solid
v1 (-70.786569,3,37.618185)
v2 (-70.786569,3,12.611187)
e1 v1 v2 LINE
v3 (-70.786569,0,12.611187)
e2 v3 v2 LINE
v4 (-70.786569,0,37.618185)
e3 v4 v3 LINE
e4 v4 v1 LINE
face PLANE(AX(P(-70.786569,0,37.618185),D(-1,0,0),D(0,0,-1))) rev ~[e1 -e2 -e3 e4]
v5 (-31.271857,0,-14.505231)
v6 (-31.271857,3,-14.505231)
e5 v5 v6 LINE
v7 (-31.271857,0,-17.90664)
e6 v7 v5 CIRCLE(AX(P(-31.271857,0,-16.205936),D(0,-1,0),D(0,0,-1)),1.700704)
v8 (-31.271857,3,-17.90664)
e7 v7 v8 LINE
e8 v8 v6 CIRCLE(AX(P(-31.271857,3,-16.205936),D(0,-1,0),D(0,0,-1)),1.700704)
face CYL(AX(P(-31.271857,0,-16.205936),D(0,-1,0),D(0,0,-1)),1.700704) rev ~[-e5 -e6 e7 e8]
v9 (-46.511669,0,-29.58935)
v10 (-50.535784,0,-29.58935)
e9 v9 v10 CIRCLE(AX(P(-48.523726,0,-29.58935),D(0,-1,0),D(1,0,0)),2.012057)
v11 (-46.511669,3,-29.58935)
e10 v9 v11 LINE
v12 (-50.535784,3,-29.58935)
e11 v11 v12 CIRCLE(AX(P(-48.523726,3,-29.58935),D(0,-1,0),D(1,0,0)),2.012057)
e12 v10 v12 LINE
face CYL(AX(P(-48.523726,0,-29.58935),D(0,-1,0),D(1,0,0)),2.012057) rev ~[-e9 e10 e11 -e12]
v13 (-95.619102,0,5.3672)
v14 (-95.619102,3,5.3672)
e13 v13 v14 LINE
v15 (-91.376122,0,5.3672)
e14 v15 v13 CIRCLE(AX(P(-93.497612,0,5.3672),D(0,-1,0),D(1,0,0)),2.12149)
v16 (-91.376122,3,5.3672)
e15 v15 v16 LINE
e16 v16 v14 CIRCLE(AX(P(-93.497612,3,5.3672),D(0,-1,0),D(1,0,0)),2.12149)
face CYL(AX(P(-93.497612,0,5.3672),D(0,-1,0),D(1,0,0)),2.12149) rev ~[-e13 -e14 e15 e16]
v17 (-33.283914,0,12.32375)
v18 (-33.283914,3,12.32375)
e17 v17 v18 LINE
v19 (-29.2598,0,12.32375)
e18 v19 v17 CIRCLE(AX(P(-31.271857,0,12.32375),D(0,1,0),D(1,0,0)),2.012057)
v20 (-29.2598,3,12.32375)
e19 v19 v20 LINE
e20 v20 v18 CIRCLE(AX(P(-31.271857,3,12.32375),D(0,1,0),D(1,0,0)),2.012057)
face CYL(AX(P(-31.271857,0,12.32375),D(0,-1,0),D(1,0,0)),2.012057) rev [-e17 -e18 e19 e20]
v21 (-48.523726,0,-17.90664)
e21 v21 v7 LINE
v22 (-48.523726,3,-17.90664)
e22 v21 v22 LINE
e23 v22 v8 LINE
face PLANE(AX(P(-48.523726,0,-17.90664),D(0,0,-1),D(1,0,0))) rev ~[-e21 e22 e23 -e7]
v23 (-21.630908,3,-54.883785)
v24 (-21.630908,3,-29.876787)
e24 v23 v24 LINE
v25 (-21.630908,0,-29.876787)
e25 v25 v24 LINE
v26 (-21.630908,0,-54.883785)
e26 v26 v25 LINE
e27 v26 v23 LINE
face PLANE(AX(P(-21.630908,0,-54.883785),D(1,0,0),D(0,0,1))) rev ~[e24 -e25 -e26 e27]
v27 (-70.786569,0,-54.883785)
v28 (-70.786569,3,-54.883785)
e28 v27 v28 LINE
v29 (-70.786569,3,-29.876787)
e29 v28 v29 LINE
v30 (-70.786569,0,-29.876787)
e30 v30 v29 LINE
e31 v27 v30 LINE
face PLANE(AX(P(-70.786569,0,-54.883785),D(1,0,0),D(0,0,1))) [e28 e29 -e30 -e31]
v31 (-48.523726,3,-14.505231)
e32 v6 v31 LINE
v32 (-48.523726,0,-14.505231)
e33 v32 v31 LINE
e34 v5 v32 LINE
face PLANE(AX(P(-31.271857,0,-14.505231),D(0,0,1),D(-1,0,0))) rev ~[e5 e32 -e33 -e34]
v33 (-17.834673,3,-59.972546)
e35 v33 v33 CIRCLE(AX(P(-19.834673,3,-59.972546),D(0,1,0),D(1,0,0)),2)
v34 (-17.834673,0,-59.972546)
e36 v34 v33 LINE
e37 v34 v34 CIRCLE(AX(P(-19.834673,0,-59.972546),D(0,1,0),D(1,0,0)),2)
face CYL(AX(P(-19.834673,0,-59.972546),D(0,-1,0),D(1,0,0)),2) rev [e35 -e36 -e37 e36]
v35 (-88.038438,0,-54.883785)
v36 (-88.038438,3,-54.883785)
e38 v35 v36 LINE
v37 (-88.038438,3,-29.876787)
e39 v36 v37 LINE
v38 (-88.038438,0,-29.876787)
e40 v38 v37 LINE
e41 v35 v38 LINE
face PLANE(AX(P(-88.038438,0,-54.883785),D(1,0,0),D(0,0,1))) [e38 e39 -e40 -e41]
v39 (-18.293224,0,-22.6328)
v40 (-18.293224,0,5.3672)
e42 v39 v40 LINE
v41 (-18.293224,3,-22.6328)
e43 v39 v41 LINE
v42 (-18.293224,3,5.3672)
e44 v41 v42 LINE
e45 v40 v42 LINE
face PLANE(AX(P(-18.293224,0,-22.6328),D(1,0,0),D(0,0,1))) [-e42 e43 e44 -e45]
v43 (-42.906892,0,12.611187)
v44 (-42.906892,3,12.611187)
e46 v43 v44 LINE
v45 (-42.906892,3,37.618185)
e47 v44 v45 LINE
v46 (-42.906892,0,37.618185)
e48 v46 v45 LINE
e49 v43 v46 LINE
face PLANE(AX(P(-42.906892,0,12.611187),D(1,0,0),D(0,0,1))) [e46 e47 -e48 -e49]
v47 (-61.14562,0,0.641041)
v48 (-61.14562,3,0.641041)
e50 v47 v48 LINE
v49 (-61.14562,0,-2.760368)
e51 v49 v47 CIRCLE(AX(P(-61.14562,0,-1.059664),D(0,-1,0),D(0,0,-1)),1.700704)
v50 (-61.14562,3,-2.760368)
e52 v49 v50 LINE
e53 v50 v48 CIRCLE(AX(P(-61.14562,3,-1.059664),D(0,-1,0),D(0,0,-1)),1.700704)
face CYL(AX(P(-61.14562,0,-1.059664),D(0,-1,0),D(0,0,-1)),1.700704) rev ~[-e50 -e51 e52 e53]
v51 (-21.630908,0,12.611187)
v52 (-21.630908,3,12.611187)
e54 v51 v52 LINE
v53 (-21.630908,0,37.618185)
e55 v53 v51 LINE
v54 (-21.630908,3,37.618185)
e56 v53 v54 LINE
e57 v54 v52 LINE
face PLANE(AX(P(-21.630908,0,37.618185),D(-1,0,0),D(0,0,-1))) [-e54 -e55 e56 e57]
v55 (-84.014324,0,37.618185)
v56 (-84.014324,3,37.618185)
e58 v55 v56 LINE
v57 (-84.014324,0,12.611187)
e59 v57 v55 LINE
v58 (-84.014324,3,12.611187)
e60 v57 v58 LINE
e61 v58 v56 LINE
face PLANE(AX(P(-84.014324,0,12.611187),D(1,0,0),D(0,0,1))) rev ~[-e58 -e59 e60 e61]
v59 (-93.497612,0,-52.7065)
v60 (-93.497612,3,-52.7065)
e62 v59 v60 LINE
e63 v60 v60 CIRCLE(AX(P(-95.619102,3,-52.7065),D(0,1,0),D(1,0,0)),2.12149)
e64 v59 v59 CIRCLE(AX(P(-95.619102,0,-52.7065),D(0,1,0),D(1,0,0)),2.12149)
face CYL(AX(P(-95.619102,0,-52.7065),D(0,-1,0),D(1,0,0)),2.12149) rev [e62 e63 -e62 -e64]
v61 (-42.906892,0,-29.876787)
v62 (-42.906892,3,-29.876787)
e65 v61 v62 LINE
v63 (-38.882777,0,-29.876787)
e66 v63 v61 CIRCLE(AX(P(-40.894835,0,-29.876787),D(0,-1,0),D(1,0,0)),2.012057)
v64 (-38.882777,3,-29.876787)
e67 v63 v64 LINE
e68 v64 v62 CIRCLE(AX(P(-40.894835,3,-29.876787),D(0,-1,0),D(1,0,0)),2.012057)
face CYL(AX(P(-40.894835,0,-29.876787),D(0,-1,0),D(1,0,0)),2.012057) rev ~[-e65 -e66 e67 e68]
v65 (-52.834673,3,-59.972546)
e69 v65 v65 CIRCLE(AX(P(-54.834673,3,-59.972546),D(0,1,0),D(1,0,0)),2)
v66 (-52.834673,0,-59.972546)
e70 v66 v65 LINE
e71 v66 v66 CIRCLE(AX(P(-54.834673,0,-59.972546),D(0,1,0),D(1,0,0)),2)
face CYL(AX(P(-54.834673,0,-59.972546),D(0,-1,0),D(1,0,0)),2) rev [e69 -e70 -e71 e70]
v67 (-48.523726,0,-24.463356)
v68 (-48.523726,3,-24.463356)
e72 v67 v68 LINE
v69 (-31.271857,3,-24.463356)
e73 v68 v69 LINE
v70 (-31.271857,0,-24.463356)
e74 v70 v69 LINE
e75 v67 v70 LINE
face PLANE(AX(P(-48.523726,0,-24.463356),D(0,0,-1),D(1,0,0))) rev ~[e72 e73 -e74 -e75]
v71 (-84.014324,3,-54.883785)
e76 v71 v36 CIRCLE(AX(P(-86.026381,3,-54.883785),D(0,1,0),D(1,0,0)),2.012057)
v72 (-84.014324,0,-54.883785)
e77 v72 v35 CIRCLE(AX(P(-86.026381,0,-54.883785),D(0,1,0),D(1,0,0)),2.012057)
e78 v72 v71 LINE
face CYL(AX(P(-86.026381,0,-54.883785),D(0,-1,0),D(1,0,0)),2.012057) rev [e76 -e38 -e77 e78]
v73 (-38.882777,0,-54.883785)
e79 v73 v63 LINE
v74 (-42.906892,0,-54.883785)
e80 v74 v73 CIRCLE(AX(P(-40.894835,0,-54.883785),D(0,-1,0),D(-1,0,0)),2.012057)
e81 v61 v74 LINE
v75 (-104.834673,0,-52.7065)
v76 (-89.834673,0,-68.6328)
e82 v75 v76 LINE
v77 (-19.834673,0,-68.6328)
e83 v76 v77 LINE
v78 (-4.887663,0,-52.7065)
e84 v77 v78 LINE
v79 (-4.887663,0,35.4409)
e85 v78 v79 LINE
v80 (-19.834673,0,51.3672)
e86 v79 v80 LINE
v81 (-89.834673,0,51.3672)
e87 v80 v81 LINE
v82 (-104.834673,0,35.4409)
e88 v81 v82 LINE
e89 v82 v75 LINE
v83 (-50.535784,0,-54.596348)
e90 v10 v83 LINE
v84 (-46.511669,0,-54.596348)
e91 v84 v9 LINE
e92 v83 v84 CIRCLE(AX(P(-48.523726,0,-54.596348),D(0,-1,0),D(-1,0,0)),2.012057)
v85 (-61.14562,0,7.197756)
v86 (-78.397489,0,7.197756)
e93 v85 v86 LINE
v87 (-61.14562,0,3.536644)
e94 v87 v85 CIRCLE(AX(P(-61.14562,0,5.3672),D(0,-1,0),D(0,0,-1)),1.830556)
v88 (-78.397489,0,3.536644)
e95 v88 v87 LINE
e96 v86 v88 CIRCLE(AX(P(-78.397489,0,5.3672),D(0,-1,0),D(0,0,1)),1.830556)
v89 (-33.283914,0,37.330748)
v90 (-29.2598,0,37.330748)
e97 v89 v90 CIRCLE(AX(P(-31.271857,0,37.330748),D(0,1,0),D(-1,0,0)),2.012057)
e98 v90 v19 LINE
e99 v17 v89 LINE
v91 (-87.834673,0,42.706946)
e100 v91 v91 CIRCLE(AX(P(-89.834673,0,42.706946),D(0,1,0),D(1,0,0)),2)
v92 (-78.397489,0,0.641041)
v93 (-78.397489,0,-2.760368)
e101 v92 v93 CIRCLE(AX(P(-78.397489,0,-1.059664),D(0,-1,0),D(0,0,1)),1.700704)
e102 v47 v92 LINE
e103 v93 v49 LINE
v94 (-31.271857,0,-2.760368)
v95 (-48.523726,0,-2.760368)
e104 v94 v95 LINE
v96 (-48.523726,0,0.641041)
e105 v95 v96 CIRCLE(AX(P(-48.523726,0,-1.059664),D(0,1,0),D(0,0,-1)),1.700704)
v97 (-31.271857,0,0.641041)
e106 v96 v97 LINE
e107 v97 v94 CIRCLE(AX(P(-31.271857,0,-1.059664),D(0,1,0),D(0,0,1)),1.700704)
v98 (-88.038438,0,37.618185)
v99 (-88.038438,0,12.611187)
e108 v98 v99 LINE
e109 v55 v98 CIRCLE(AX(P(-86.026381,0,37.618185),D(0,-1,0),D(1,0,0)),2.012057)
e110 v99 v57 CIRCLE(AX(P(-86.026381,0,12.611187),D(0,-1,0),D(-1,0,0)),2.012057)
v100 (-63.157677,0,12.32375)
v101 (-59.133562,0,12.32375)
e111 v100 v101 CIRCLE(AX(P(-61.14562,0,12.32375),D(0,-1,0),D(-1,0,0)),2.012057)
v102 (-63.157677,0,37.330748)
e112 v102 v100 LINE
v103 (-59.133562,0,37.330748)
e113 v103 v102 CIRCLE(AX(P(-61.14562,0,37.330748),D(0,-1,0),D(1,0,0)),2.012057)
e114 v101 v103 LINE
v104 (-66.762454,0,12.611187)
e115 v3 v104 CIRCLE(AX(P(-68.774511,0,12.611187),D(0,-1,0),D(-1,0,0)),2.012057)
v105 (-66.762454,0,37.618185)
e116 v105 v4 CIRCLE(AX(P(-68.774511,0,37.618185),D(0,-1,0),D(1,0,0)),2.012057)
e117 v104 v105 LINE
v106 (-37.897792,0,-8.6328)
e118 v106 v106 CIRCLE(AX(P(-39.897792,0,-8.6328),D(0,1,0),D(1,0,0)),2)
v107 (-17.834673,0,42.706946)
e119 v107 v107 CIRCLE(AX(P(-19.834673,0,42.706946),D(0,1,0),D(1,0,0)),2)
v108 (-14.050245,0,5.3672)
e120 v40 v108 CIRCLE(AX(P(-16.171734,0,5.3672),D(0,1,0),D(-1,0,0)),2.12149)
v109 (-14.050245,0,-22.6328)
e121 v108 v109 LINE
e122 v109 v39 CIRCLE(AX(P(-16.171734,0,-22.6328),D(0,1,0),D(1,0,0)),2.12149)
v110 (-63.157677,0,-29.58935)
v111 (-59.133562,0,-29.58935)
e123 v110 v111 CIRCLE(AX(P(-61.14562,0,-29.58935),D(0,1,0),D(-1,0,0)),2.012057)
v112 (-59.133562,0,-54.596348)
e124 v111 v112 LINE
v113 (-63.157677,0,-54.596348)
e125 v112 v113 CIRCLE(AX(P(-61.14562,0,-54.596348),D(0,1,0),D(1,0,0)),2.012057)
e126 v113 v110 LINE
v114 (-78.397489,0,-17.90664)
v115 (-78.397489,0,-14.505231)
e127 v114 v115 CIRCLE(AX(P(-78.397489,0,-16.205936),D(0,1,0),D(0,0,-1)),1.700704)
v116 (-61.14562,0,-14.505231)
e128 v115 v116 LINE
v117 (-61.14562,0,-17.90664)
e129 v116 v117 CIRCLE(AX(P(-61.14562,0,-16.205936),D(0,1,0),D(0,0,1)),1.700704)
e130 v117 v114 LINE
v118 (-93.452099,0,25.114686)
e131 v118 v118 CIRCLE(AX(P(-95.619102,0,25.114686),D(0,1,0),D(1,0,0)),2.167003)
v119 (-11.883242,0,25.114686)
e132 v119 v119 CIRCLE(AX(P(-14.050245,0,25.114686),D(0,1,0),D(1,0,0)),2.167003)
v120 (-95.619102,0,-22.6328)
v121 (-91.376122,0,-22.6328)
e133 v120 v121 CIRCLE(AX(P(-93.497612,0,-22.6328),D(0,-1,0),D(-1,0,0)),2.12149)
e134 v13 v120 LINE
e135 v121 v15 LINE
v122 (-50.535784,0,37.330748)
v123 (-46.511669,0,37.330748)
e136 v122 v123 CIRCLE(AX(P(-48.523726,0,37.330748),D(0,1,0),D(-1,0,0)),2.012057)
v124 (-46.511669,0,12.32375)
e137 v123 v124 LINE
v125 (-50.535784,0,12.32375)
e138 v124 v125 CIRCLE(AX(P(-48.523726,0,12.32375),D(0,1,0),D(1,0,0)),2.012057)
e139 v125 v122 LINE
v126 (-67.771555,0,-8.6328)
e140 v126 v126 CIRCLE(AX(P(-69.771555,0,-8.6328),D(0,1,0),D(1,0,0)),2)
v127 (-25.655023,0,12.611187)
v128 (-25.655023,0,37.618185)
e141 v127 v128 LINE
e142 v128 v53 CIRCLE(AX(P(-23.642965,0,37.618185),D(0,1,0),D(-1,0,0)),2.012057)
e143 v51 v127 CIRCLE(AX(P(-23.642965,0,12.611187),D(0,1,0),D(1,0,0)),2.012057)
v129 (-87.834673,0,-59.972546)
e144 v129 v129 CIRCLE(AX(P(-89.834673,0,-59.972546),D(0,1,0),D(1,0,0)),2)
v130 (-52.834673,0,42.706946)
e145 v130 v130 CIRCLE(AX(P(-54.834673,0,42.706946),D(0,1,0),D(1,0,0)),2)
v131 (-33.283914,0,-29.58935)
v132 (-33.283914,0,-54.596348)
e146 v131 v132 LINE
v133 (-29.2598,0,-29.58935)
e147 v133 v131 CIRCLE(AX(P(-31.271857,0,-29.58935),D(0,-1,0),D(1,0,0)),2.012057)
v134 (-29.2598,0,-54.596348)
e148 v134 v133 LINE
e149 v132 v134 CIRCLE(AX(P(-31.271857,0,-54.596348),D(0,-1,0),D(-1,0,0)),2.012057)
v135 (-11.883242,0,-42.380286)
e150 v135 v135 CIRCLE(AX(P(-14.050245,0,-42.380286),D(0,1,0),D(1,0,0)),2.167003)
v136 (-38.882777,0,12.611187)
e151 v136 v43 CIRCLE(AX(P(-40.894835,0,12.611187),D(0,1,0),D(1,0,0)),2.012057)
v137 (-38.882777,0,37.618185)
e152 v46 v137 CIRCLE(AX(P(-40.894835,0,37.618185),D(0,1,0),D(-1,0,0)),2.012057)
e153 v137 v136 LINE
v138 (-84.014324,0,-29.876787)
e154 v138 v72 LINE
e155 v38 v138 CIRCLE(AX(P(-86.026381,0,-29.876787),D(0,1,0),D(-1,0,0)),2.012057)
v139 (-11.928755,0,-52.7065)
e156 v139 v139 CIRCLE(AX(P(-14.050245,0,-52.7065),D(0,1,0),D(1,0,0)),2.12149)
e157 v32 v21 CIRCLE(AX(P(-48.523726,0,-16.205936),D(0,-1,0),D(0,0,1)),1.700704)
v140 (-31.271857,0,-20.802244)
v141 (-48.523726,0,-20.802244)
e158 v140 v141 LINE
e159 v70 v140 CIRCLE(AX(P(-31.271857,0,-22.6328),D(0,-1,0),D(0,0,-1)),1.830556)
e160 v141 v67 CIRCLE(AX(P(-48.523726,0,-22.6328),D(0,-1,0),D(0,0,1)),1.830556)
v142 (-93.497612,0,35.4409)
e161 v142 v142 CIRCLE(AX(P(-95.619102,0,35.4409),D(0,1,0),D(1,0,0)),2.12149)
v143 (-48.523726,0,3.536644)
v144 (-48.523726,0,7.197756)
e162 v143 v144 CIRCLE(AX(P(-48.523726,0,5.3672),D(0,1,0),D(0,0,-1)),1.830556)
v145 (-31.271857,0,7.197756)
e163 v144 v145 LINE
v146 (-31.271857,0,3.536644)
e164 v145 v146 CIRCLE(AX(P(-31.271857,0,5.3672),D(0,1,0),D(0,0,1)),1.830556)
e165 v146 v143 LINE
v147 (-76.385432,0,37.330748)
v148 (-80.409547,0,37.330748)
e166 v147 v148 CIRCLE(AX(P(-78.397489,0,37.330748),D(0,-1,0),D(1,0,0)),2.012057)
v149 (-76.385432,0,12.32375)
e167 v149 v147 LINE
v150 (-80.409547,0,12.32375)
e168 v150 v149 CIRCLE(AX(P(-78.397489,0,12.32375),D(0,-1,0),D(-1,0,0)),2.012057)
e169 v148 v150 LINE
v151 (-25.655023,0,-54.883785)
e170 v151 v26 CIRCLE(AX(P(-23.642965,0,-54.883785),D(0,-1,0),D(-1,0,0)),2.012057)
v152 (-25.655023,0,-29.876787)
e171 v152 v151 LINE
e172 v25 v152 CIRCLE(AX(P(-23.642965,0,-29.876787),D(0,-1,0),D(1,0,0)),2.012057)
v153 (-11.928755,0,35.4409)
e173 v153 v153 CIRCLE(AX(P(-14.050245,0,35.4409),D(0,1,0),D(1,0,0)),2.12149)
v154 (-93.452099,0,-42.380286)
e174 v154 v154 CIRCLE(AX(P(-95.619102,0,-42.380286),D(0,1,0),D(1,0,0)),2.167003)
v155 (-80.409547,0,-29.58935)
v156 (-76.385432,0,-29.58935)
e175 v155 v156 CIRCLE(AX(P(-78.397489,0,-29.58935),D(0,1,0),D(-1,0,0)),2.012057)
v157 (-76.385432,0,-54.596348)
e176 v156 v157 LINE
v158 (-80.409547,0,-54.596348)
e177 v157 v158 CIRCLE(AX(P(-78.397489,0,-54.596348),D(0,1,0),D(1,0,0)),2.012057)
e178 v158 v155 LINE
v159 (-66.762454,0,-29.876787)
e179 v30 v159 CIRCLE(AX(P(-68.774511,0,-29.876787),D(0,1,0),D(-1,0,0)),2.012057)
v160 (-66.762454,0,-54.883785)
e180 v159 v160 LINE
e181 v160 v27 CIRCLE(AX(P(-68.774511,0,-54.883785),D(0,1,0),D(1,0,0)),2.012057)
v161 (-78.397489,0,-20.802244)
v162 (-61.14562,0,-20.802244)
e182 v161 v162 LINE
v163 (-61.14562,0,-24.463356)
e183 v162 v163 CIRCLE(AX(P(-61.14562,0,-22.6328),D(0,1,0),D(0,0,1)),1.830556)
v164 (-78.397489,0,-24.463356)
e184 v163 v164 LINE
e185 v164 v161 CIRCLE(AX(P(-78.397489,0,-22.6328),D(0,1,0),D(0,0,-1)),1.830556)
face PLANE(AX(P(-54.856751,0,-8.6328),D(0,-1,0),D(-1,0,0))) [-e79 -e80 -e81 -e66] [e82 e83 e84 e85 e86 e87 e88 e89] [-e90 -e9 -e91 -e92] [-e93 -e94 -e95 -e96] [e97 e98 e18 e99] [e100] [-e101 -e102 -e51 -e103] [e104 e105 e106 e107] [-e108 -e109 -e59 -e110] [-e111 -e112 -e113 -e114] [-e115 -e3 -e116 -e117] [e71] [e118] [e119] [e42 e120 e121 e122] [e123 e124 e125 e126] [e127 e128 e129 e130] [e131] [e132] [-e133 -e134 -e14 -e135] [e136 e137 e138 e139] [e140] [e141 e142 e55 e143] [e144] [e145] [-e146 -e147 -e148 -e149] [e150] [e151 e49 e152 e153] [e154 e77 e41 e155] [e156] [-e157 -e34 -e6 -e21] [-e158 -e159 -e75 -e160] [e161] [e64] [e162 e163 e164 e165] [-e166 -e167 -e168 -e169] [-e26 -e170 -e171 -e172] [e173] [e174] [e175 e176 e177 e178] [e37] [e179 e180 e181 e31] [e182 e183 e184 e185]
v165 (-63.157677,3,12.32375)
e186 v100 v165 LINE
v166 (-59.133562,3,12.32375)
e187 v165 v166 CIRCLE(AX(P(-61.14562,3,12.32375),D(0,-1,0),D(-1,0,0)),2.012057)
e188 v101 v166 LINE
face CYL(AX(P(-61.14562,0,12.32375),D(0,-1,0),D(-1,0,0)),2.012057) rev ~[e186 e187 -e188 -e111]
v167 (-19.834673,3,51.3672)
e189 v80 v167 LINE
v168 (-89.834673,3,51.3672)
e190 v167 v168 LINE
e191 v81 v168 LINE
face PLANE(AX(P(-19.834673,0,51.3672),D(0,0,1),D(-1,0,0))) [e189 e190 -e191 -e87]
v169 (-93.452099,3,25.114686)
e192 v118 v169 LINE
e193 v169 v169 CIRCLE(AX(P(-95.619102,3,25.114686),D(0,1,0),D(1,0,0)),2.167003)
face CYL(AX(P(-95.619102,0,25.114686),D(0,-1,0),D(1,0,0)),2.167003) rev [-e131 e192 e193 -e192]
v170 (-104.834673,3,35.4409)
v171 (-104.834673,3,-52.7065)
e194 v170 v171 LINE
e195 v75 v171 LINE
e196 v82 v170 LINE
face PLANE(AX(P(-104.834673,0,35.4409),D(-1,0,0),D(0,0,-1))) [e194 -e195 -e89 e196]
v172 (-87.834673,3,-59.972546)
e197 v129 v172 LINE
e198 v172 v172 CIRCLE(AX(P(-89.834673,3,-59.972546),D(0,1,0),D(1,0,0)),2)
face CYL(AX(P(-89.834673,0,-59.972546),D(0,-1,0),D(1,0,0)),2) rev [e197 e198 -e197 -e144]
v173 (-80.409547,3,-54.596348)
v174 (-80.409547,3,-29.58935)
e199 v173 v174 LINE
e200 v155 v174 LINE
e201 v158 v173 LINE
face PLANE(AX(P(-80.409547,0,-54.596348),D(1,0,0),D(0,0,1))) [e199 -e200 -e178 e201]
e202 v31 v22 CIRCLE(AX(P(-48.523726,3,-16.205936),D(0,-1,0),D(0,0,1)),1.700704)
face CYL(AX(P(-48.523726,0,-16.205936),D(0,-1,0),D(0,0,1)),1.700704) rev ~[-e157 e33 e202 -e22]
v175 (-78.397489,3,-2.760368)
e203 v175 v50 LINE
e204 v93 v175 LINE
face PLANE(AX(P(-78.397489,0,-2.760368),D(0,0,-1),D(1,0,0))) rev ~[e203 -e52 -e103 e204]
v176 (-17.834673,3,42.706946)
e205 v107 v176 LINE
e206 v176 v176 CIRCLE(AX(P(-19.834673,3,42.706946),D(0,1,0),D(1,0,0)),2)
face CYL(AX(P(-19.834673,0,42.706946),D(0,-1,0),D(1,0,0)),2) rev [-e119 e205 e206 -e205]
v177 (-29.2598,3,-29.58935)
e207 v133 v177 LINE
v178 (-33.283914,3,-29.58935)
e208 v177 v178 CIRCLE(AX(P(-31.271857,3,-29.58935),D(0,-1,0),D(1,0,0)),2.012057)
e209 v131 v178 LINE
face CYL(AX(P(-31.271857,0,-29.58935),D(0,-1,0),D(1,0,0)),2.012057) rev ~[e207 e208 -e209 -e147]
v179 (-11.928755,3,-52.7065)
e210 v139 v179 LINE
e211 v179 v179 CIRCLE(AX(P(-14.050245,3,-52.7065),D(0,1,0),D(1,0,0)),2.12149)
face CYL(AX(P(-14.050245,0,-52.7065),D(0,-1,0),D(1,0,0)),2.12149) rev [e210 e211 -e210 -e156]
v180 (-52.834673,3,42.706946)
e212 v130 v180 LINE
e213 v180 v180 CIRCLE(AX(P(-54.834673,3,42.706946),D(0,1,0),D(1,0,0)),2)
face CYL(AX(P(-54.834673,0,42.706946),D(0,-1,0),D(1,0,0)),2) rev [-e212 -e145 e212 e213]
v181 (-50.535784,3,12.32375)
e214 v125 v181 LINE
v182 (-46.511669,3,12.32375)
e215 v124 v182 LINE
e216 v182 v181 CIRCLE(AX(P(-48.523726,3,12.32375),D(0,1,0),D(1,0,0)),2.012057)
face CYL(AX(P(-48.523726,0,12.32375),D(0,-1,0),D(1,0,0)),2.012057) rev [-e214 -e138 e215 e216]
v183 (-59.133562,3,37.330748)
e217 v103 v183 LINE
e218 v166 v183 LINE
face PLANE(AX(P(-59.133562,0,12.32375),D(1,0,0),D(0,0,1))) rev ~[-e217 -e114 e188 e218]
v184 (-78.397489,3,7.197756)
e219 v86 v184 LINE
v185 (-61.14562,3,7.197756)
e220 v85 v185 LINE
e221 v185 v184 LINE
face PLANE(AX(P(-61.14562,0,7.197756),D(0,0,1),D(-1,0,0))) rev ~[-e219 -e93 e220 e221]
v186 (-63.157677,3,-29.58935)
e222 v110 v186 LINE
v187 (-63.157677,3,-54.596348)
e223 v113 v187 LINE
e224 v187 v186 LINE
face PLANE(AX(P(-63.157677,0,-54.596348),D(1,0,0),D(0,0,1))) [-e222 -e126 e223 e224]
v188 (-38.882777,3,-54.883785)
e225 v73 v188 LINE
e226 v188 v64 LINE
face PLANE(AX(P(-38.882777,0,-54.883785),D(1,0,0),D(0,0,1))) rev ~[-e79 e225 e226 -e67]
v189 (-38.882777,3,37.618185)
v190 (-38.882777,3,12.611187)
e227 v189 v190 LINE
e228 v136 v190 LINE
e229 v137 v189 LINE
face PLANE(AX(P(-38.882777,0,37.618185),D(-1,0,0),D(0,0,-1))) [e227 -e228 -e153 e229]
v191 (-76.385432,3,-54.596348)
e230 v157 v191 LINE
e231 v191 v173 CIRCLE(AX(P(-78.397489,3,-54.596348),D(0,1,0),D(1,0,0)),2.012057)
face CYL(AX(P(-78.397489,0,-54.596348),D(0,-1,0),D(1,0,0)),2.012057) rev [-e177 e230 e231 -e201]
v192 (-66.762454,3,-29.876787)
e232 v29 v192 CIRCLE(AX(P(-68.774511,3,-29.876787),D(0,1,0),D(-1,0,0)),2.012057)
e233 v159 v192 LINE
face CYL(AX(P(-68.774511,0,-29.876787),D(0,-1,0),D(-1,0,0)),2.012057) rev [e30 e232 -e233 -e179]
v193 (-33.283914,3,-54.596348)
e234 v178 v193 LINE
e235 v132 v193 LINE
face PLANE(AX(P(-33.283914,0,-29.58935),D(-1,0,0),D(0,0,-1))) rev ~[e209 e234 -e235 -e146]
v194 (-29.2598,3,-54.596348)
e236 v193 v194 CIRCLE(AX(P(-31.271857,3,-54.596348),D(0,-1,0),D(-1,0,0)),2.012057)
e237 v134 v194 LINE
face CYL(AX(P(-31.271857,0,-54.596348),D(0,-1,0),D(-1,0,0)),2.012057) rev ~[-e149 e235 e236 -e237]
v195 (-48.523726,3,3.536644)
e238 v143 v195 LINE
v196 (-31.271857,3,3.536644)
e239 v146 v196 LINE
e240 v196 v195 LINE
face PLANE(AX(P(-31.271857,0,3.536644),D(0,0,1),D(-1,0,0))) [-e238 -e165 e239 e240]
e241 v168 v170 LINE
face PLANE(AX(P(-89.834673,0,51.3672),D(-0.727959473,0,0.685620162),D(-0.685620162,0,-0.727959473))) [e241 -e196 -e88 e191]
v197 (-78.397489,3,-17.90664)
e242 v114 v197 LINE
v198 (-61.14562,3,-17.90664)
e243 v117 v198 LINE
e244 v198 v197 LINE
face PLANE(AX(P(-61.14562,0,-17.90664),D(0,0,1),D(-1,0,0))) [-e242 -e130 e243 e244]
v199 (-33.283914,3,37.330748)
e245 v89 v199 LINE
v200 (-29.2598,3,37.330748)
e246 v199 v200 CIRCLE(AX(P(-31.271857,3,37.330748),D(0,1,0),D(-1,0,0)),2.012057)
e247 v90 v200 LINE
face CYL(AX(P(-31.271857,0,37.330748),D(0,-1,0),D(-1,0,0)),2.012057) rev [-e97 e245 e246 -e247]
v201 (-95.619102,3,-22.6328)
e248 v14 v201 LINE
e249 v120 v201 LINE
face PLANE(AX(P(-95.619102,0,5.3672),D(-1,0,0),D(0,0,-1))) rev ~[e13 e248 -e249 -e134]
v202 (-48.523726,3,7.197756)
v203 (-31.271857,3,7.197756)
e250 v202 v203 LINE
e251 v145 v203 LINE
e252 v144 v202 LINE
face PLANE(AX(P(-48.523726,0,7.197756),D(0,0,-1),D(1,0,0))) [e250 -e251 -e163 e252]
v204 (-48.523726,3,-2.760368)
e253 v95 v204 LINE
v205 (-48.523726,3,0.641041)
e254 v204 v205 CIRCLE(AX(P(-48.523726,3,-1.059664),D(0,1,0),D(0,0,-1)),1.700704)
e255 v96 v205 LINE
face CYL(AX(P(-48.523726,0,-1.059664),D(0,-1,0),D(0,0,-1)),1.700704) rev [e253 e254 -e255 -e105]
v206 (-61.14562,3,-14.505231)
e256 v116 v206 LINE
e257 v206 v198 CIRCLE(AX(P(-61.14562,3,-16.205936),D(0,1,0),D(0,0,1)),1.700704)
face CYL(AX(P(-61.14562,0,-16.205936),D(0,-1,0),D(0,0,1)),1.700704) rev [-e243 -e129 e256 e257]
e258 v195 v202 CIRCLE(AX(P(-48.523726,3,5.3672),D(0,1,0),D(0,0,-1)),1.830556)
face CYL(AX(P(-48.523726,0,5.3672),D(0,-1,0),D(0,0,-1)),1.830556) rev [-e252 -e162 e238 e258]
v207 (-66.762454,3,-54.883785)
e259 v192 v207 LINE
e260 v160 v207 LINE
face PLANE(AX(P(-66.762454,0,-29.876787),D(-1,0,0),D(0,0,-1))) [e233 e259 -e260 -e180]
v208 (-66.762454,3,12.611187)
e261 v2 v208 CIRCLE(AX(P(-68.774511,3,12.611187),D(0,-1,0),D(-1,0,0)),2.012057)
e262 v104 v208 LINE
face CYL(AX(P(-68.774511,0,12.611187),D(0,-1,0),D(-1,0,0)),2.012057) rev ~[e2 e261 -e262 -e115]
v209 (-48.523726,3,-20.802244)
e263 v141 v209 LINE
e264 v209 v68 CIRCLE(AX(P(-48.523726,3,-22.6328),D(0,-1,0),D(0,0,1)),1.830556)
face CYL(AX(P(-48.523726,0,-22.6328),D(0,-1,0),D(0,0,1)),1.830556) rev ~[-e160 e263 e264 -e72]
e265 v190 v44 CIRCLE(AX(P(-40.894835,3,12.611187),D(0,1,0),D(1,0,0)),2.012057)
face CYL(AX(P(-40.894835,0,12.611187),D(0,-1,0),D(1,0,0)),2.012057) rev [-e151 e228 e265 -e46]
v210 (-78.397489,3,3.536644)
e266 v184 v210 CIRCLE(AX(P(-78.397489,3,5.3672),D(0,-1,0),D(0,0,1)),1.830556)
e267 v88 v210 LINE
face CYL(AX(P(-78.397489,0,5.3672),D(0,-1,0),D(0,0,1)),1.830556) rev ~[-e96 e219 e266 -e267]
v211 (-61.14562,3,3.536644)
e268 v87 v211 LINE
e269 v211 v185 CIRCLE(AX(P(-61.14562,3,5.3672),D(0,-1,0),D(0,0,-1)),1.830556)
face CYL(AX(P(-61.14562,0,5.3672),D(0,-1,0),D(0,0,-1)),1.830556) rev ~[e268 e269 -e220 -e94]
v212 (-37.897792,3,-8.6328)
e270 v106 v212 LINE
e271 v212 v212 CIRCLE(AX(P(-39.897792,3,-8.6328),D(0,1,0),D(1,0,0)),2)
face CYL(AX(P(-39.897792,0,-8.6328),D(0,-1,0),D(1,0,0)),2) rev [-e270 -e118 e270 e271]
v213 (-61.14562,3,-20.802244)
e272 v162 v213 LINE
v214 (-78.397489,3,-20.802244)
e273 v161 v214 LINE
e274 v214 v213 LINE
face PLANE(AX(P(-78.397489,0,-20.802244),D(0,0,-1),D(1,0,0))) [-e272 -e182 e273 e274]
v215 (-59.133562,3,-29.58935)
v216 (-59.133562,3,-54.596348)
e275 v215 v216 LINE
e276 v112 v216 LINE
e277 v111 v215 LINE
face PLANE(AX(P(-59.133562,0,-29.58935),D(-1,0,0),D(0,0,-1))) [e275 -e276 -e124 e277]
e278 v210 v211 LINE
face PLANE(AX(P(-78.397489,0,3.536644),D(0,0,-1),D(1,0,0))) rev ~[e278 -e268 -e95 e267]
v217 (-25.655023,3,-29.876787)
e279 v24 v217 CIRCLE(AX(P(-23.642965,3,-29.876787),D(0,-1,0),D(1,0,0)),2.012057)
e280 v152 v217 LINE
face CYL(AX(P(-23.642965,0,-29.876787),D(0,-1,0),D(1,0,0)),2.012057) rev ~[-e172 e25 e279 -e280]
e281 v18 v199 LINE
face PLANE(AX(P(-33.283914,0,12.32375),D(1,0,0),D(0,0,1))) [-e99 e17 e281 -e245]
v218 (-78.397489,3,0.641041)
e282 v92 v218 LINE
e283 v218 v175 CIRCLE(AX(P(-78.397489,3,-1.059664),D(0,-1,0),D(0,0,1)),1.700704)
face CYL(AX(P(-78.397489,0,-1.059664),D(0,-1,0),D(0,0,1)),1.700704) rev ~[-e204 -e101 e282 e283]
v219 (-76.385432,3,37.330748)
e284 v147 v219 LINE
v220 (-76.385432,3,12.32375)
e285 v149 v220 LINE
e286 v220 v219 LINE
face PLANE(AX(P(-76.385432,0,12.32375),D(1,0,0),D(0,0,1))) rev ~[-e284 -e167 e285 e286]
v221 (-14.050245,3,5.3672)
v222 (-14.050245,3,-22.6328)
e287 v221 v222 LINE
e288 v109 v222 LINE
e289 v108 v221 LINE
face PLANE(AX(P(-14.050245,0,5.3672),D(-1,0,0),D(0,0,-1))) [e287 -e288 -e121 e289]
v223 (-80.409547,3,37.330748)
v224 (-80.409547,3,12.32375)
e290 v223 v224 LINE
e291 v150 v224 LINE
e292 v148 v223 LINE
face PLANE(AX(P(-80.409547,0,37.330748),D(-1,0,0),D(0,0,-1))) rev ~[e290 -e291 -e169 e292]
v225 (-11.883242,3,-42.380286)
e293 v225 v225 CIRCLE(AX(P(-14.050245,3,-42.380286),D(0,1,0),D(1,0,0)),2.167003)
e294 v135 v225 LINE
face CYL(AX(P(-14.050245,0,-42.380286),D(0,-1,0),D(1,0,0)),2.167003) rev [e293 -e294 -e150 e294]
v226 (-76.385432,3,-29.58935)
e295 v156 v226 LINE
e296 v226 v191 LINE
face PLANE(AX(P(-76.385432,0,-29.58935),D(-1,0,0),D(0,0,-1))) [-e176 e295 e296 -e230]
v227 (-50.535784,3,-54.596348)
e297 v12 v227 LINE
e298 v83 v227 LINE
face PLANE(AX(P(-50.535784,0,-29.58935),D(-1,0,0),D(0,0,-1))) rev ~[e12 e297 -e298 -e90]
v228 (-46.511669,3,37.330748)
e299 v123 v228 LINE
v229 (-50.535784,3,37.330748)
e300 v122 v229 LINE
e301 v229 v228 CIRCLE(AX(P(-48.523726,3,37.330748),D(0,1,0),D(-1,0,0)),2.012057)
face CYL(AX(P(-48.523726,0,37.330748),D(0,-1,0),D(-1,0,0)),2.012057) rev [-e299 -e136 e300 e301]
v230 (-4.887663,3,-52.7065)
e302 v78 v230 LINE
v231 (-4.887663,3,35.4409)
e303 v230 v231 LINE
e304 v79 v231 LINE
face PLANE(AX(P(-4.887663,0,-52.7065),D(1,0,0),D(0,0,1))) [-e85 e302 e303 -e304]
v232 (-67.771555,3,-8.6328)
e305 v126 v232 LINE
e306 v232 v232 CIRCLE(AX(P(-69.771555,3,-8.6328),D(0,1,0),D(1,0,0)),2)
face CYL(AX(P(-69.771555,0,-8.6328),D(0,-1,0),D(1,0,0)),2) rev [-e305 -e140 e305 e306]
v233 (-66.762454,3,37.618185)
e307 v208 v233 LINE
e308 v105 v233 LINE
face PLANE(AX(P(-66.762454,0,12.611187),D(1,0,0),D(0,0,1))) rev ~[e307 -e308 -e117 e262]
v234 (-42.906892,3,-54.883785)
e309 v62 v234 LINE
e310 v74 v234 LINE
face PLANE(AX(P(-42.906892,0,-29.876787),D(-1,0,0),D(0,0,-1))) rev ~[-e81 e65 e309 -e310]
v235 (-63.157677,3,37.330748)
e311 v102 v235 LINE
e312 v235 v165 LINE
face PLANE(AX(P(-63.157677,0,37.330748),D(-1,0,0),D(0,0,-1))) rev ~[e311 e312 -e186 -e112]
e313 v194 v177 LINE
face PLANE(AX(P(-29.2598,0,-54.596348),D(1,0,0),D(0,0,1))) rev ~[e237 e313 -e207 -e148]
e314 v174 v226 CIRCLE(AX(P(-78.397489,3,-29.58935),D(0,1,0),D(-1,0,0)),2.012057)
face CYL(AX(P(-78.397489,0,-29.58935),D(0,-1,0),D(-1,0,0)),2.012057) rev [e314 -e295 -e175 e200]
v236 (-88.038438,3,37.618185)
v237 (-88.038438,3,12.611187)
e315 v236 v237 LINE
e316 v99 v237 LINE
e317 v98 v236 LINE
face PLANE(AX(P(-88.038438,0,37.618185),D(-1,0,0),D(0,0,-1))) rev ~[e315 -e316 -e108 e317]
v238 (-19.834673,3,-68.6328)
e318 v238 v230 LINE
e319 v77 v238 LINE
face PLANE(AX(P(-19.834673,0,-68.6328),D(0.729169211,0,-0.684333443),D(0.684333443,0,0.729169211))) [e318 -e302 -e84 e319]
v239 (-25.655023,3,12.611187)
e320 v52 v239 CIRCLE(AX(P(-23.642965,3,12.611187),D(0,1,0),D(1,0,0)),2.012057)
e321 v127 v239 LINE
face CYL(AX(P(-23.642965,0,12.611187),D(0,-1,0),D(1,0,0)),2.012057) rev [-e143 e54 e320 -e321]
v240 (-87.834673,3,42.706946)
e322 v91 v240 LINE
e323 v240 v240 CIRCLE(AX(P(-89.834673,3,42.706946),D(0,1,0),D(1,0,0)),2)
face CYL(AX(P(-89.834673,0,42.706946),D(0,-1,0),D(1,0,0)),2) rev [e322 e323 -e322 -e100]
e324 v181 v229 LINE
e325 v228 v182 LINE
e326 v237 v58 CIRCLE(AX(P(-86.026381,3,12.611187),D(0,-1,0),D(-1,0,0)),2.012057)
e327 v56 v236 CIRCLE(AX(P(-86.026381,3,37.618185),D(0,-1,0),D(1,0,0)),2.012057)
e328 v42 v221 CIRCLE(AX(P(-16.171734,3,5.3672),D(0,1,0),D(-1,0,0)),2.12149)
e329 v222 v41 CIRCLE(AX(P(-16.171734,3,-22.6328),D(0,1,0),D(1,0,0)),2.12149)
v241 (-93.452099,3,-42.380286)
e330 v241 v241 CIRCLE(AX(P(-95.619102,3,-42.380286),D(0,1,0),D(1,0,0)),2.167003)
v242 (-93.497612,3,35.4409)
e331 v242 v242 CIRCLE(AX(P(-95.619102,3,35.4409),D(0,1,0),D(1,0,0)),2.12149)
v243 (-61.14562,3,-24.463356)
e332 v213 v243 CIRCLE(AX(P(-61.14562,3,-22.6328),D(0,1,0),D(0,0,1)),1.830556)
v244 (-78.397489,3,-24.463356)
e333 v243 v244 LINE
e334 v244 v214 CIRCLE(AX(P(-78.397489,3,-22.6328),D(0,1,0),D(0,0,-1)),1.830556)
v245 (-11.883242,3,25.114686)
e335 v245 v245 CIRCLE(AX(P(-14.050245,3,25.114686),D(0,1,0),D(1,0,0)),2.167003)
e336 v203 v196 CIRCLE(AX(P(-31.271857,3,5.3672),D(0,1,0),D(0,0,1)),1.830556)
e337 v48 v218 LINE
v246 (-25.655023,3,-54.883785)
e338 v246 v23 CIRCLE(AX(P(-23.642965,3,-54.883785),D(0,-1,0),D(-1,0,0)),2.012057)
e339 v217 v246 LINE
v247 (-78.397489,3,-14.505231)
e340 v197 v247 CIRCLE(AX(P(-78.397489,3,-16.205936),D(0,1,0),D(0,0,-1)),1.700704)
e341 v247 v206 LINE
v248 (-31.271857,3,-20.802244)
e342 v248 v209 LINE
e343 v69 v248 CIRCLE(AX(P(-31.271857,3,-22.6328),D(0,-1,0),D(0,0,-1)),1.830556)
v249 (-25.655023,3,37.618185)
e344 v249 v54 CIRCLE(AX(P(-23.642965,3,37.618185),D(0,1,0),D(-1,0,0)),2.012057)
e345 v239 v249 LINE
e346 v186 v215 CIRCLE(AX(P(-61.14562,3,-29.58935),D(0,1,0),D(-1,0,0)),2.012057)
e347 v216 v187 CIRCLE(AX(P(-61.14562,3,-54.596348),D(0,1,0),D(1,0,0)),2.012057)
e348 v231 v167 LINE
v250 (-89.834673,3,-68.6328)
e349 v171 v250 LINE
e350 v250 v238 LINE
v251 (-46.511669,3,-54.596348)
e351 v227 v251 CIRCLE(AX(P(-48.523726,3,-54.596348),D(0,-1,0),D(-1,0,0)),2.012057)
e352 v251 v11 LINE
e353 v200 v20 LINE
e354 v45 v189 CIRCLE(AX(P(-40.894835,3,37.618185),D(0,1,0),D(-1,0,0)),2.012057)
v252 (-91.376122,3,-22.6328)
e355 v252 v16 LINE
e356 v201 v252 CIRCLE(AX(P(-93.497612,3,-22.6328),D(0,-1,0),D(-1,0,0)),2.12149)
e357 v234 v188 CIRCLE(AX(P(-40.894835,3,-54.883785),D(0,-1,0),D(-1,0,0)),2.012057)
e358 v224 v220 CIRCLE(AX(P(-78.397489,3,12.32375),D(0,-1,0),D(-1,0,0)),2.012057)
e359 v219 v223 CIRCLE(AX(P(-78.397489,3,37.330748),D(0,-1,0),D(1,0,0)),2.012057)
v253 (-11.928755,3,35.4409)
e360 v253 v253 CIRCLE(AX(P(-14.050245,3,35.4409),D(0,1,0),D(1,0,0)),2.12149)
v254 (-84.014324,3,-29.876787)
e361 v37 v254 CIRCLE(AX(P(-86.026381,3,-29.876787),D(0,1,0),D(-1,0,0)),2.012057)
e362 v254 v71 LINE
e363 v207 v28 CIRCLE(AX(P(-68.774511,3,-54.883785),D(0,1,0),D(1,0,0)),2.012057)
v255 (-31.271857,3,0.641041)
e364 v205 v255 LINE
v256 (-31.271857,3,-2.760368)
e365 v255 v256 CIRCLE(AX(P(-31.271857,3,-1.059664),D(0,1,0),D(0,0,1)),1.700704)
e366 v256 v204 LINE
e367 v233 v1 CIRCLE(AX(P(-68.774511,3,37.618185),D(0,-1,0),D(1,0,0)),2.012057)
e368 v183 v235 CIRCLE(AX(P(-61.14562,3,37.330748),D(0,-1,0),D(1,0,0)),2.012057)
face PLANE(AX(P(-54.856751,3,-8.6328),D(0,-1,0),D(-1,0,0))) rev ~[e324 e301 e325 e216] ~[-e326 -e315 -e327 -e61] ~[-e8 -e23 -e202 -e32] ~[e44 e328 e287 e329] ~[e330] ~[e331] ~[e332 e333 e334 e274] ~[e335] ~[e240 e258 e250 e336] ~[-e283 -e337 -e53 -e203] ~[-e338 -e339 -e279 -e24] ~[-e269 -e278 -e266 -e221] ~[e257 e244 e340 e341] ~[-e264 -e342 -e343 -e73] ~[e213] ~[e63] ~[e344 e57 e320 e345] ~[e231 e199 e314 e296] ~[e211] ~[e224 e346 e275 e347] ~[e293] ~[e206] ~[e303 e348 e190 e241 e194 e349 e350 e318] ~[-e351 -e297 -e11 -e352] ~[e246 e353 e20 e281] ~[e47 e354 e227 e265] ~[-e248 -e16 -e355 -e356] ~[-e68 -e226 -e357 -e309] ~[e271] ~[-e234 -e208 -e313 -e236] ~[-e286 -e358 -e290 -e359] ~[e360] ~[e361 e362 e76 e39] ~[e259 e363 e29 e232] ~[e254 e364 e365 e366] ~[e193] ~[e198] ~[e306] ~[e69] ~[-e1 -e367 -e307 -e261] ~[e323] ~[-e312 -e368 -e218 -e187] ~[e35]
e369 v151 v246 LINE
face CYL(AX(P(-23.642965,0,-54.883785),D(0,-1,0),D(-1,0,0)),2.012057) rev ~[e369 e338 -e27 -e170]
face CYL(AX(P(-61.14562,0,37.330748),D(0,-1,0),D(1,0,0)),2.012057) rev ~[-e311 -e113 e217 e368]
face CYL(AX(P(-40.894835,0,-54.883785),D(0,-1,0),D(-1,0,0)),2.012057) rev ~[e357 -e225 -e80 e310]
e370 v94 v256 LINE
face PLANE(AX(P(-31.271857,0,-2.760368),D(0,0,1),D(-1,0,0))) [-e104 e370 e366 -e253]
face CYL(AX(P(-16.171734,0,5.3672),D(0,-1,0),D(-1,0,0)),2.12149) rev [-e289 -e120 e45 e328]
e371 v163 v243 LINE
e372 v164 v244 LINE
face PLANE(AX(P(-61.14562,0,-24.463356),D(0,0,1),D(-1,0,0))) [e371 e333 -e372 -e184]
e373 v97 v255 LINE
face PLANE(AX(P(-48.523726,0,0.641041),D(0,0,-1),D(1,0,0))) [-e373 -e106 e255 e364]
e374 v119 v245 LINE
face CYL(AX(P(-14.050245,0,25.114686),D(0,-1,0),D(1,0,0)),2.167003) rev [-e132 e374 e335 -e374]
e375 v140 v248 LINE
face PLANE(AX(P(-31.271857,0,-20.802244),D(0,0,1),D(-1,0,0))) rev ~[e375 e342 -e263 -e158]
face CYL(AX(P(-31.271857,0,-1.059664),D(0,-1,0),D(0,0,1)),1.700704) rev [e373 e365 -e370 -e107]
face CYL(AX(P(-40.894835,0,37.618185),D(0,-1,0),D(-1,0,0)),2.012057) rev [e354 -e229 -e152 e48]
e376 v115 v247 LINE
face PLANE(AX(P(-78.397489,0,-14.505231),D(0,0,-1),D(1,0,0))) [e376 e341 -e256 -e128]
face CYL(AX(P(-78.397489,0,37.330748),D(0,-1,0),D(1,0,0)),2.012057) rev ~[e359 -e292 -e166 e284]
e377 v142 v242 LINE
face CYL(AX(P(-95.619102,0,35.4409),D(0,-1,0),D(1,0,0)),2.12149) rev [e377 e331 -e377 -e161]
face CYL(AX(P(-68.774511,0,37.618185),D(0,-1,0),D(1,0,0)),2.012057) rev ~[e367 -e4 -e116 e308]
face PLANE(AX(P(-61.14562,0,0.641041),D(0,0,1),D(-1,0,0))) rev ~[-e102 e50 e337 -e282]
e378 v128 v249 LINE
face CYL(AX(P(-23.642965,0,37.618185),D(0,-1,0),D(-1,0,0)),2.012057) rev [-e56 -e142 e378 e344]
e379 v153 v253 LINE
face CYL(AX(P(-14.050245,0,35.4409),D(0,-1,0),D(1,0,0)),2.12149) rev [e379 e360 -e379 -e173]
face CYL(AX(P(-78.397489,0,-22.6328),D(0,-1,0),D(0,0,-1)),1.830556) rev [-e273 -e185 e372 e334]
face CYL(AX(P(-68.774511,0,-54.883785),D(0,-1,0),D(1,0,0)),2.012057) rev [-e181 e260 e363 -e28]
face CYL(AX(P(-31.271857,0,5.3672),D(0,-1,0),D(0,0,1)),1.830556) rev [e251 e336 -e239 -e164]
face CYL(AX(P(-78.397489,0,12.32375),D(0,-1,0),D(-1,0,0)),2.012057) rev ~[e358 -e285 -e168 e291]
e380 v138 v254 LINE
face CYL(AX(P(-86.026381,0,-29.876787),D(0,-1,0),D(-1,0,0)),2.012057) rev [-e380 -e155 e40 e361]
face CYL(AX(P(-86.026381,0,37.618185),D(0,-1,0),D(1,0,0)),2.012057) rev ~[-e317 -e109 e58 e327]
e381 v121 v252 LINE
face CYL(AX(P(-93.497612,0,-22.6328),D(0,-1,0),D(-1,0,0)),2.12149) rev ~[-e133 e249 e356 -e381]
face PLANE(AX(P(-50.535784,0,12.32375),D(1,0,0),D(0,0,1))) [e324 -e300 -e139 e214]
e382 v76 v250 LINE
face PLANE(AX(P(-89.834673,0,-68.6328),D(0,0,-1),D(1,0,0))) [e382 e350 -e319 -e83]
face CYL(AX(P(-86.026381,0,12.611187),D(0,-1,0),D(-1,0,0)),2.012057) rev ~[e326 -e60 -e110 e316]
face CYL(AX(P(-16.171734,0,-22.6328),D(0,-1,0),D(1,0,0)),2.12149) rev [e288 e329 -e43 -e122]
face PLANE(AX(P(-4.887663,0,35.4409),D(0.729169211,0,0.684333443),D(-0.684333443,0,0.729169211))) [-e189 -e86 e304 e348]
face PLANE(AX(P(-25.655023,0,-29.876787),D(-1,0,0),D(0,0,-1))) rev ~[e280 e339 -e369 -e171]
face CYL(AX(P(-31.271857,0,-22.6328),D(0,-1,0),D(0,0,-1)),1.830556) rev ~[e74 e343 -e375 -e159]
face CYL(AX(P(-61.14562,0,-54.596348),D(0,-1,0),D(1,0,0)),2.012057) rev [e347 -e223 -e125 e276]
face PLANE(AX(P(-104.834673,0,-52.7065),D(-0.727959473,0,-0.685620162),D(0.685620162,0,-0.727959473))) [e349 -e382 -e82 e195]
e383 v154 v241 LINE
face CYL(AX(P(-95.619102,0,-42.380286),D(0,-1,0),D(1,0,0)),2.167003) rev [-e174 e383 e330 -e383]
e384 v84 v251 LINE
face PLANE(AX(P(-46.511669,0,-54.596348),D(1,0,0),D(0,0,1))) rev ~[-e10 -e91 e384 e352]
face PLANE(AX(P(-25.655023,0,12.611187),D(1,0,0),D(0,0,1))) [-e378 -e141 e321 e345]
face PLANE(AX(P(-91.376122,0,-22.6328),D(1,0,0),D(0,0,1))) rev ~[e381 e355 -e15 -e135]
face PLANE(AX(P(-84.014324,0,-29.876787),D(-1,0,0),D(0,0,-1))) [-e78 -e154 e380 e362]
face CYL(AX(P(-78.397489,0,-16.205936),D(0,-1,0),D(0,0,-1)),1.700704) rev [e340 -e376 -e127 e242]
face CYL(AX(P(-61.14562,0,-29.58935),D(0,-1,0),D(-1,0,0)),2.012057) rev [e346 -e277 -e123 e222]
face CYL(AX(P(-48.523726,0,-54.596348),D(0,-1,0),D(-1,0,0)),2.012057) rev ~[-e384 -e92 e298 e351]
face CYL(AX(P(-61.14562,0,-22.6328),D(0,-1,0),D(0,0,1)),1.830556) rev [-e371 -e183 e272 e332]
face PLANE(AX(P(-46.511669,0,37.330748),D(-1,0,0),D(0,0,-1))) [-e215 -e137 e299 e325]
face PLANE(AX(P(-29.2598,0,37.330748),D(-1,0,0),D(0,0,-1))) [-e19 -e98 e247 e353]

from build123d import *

# Parameters (mm, degrees)
SKETCH1_R           = 2
SKETCH1_R_2         = 2.121489713
SKETCH1_R_3         = 2.167002768
BOSS_EXTRUDE1_DEPTH = 3


with BuildPart() as part:
    # Sketch1 → Boss-Extrude1 (new body)
    with BuildSketch(Plane(origin=(0, 0, 0), x_dir=(1, 0, 0), z_dir=(0, 1, 0))):
        Polygon((-19.834673132, -51.367200065), (-89.834673132, -51.367200065), (-104.834673132, -35.440900491), (-104.834673132, 52.70650036), (-89.834673132, 68.632799935), (-19.834673132, 68.632799935), (-4.887663235, 52.70650036), (-4.887663235, -35.440900491), align=None)
        with Locations((-89.834673132, -42.706946028)):
            Circle(SKETCH1_R, mode=Mode.SUBTRACT)
        with Locations((-54.834673132, -42.706946028)):
            Circle(SKETCH1_R, mode=Mode.SUBTRACT)
        with Locations((-89.834673132, 59.972545897)):
            Circle(SKETCH1_R, mode=Mode.SUBTRACT)
        with Locations((-54.834673132, 59.972545897)):
            Circle(SKETCH1_R, mode=Mode.SUBTRACT)
        with Locations((-19.834673132, 59.972545897)):
            Circle(SKETCH1_R, mode=Mode.SUBTRACT)
        with Locations((-19.834673132, -42.706946028)):
            Circle(SKETCH1_R, mode=Mode.SUBTRACT)
        with Locations((-95.619101604, 52.70650036)):
            Circle(SKETCH1_R_2, mode=Mode.SUBTRACT)
        with Locations((-95.619101604, 42.380285931)):
            Circle(SKETCH1_R_3, mode=Mode.SUBTRACT)
        with Locations((-39.897791716, 8.632799935)):
            Circle(SKETCH1_R, mode=Mode.SUBTRACT)
        with Locations((-69.771554548, 8.632799935)):
            Circle(SKETCH1_R, mode=Mode.SUBTRACT)
        with Locations((-95.619101604, -25.114686061)):
            Circle(SKETCH1_R_3, mode=Mode.SUBTRACT)
        with Locations((-95.619101604, -35.440900491)):
            Circle(SKETCH1_R_2, mode=Mode.SUBTRACT)
        with Locations((-14.05024466, -35.440900491)):
            Circle(SKETCH1_R_2, mode=Mode.SUBTRACT)
        with Locations((-14.05024466, -25.114686061)):
            Circle(SKETCH1_R_3, mode=Mode.SUBTRACT)
        with Locations((-14.05024466, 42.380285931)):
            Circle(SKETCH1_R_3, mode=Mode.SUBTRACT)
        with Locations((-14.05024466, 52.70650036)):
            Circle(SKETCH1_R_2, mode=Mode.SUBTRACT)
        with BuildLine():
            Line((-91.376122178, 22.632799935), (-91.376122178, -5.367200065))
            ThreePointArc((-91.376122178, -5.367200065), (-93.497611891, -7.488689778), (-95.619101604, -5.367200065))
            Line((-95.619101604, -5.367200065), (-95.619101604, 22.632799935))
            ThreePointArc((-95.619101604, 22.632799935), (-93.497611891, 24.754289647), (-91.376122178, 22.632799935))
        make_face(mode=Mode.SUBTRACT)
        with BuildLine():
            Line((-18.293224086, 22.632799935), (-18.293224086, -5.367200065))
            ThreePointArc((-18.293224086, -5.367200065), (-16.171734373, -7.488689778), (-14.05024466, -5.367200065))
            Line((-14.05024466, -5.367200065), (-14.05024466, 22.632799935))
            ThreePointArc((-14.05024466, 22.632799935), (-16.171734373, 24.754289647), (-18.293224086, 22.632799935))
        make_face(mode=Mode.SUBTRACT)
        with BuildLine():
            Line((-80.409546658, -37.330748482), (-80.409546658, -12.323750115))
            ThreePointArc((-80.409546658, -12.323750115), (-78.397489318, -10.311692775), (-76.385431978, -12.323750115))
            Line((-76.385431978, -12.323750115), (-76.385431978, -37.330748482))
            ThreePointArc((-76.385431978, -37.330748482), (-78.397489318, -39.342805822), (-80.409546658, -37.330748482))
        make_face(mode=Mode.SUBTRACT)
        with BuildLine():
            Line((-88.038438317, -37.618185245), (-88.038438317, -12.611186878))
            ThreePointArc((-88.038438317, -12.611186878), (-86.026380977, -10.599129538), (-84.014323637, -12.611186878))
            Line((-84.014323637, -12.611186878), (-84.014323637, -37.618185245))
            ThreePointArc((-84.014323637, -37.618185245), (-86.026380977, -39.630242585), (-88.038438317, -37.618185245))
        make_face(mode=Mode.SUBTRACT)
        with BuildLine():
            Line((-63.157677118, -37.330748482), (-63.157677118, -12.323750115))
            ThreePointArc((-63.157677118, -12.323750115), (-61.145619778, -10.311692775), (-59.133562438, -12.323750115))
            Line((-59.133562438, -12.323750115), (-59.133562438, -37.330748482))
            ThreePointArc((-59.133562438, -37.330748482), (-61.145619778, -39.342805822), (-63.157677118, -37.330748482))
        make_face(mode=Mode.SUBTRACT)
        with BuildLine():
            Line((-70.786568777, -37.618185245), (-70.786568777, -12.611186878))
            ThreePointArc((-70.786568777, -12.611186878), (-68.774511437, -10.599129538), (-66.762454097, -12.611186878))
            Line((-66.762454097, -12.611186878), (-66.762454097, -37.618185245))
            ThreePointArc((-66.762454097, -37.618185245), (-68.774511437, -39.630242585), (-70.786568777, -37.618185245))
        make_face(mode=Mode.SUBTRACT)
        with BuildLine():
            Line((-61.145619778, -0.641040531), (-78.397489318, -0.641040531))
            ThreePointArc((-78.397489318, -0.641040531), (-80.098193808, 1.059663959), (-78.397489318, 2.76036845))
            Line((-78.397489318, 2.76036845), (-61.145619778, 2.76036845))
            ThreePointArc((-61.145619778, 2.76036845), (-59.444915288, 1.059663959), (-61.145619778, -0.641040531))
        make_face(mode=Mode.SUBTRACT)
        with BuildLine():
            Line((-61.145619778, -7.197755846), (-78.397489318, -7.197755846))
            ThreePointArc((-78.397489318, -7.197755846), (-80.228045098, -5.367200065), (-78.397489318, -3.536644285))
            Line((-78.397489318, -3.536644285), (-61.145619778, -3.536644285))
            ThreePointArc((-61.145619778, -3.536644285), (-59.315063998, -5.367200065), (-61.145619778, -7.197755846))
        make_face(mode=Mode.SUBTRACT)
        with BuildLine():
            Line((-80.409546658, 54.596348351), (-80.409546658, 29.589349984))
            ThreePointArc((-80.409546658, 29.589349984), (-78.397489318, 27.577292644), (-76.385431978, 29.589349984))
            Line((-76.385431978, 29.589349984), (-76.385431978, 54.596348351))
            ThreePointArc((-76.385431978, 54.596348351), (-78.397489318, 56.608405691), (-80.409546658, 54.596348351))
        make_face(mode=Mode.SUBTRACT)
        with BuildLine():
            Line((-88.038438317, 54.883785114), (-88.038438317, 29.876786747))
            ThreePointArc((-88.038438317, 29.876786747), (-86.026380977, 27.864729407), (-84.014323637, 29.876786747))
            Line((-84.014323637, 29.876786747), (-84.014323637, 54.883785114))
            ThreePointArc((-84.014323637, 54.883785114), (-86.026380977, 56.895842454), (-88.038438317, 54.883785114))
        make_face(mode=Mode.SUBTRACT)
        with BuildLine():
            Line((-63.157677118, 54.596348351), (-63.157677118, 29.589349984))
            ThreePointArc((-63.157677118, 29.589349984), (-61.145619778, 27.577292644), (-59.133562438, 29.589349984))
            Line((-59.133562438, 29.589349984), (-59.133562438, 54.596348351))
            ThreePointArc((-59.133562438, 54.596348351), (-61.145619778, 56.608405691), (-63.157677118, 54.596348351))
        make_face(mode=Mode.SUBTRACT)
        with BuildLine():
            Line((-70.786568777, 54.883785114), (-70.786568777, 29.876786747))
            ThreePointArc((-70.786568777, 29.876786747), (-68.774511437, 27.864729407), (-66.762454097, 29.876786747))
            Line((-66.762454097, 29.876786747), (-66.762454097, 54.883785114))
            ThreePointArc((-66.762454097, 54.883785114), (-68.774511437, 56.895842454), (-70.786568777, 54.883785114))
        make_face(mode=Mode.SUBTRACT)
        with BuildLine():
            Line((-61.145619778, 17.9066404), (-78.397489318, 17.9066404))
            ThreePointArc((-78.397489318, 17.9066404), (-80.098193808, 16.20593591), (-78.397489318, 14.50523142))
            Line((-78.397489318, 14.50523142), (-61.145619778, 14.50523142))
            ThreePointArc((-61.145619778, 14.50523142), (-59.444915288, 16.20593591), (-61.145619778, 17.9066404))
        make_face(mode=Mode.SUBTRACT)
        with BuildLine():
            Line((-61.145619778, 24.463355715), (-78.397489318, 24.463355715))
            ThreePointArc((-78.397489318, 24.463355715), (-80.228045098, 22.632799935), (-78.397489318, 20.802244154))
            Line((-78.397489318, 20.802244154), (-61.145619778, 20.802244154))
            ThreePointArc((-61.145619778, 20.802244154), (-59.315063998, 22.632799935), (-61.145619778, 24.463355715))
        make_face(mode=Mode.SUBTRACT)
        with BuildLine():
            Line((-29.259799606, -37.330748482), (-29.259799606, -12.323750115))
            ThreePointArc((-29.259799606, -12.323750115), (-31.271856946, -10.311692775), (-33.283914286, -12.323750115))
            Line((-33.283914286, -12.323750115), (-33.283914286, -37.330748482))
            ThreePointArc((-33.283914286, -37.330748482), (-31.271856946, -39.342805822), (-29.259799606, -37.330748482))
        make_face(mode=Mode.SUBTRACT)
        with BuildLine():
            Line((-21.630907947, -37.618185245), (-21.630907947, -12.611186878))
            ThreePointArc((-21.630907947, -12.611186878), (-23.642965287, -10.599129538), (-25.655022627, -12.611186878))
            Line((-25.655022627, -12.611186878), (-25.655022627, -37.618185245))
            ThreePointArc((-25.655022627, -37.618185245), (-23.642965287, -39.630242585), (-21.630907947, -37.618185245))
        make_face(mode=Mode.SUBTRACT)
        with BuildLine():
            Line((-46.511669146, -37.330748482), (-46.511669146, -12.323750115))
            ThreePointArc((-46.511669146, -12.323750115), (-48.523726486, -10.311692775), (-50.535783826, -12.323750115))
            Line((-50.535783826, -12.323750115), (-50.535783826, -37.330748482))
            ThreePointArc((-50.535783826, -37.330748482), (-48.523726486, -39.342805822), (-46.511669146, -37.330748482))
        make_face(mode=Mode.SUBTRACT)
        with BuildLine():
            Line((-38.882777487, -37.618185245), (-38.882777487, -12.611186878))
            ThreePointArc((-38.882777487, -12.611186878), (-40.894834827, -10.599129538), (-42.906892167, -12.611186878))
            Line((-42.906892167, -12.611186878), (-42.906892167, -37.618185245))
            ThreePointArc((-42.906892167, -37.618185245), (-40.894834827, -39.630242585), (-38.882777487, -37.618185245))
        make_face(mode=Mode.SUBTRACT)
        with BuildLine():
            Line((-48.523726486, -0.641040531), (-31.271856946, -0.641040531))
            ThreePointArc((-31.271856946, -0.641040531), (-29.571152456, 1.059663959), (-31.271856946, 2.76036845))
            Line((-31.271856946, 2.76036845), (-48.523726486, 2.76036845))
            ThreePointArc((-48.523726486, 2.76036845), (-50.224430976, 1.059663959), (-48.523726486, -0.641040531))
        make_face(mode=Mode.SUBTRACT)
        with BuildLine():
            Line((-48.523726486, -7.197755846), (-31.271856946, -7.197755846))
            ThreePointArc((-31.271856946, -7.197755846), (-29.441301166, -5.367200065), (-31.271856946, -3.536644285))
            Line((-31.271856946, -3.536644285), (-48.523726486, -3.536644285))
            ThreePointArc((-48.523726486, -3.536644285), (-50.354282266, -5.367200065), (-48.523726486, -7.197755846))
        make_face(mode=Mode.SUBTRACT)
        with BuildLine():
            Line((-29.259799606, 54.596348351), (-29.259799606, 29.589349984))
            ThreePointArc((-29.259799606, 29.589349984), (-31.271856946, 27.577292644), (-33.283914286, 29.589349984))
            Line((-33.283914286, 29.589349984), (-33.283914286, 54.596348351))
            ThreePointArc((-33.283914286, 54.596348351), (-31.271856946, 56.608405691), (-29.259799606, 54.596348351))
        make_face(mode=Mode.SUBTRACT)
        with BuildLine():
            Line((-21.630907947, 54.883785114), (-21.630907947, 29.876786747))
            ThreePointArc((-21.630907947, 29.876786747), (-23.642965287, 27.864729407), (-25.655022627, 29.876786747))
            Line((-25.655022627, 29.876786747), (-25.655022627, 54.883785114))
            ThreePointArc((-25.655022627, 54.883785114), (-23.642965287, 56.895842454), (-21.630907947, 54.883785114))
        make_face(mode=Mode.SUBTRACT)
        with BuildLine():
            Line((-46.511669146, 54.596348351), (-46.511669146, 29.589349984))
            ThreePointArc((-46.511669146, 29.589349984), (-48.523726486, 27.577292644), (-50.535783826, 29.589349984))
            Line((-50.535783826, 29.589349984), (-50.535783826, 54.596348351))
            ThreePointArc((-50.535783826, 54.596348351), (-48.523726486, 56.608405691), (-46.511669146, 54.596348351))
        make_face(mode=Mode.SUBTRACT)
        with BuildLine():
            Line((-38.882777487, 54.883785114), (-38.882777487, 29.876786747))
            ThreePointArc((-38.882777487, 29.876786747), (-40.894834827, 27.864729407), (-42.906892167, 29.876786747))
            Line((-42.906892167, 29.876786747), (-42.906892167, 54.883785114))
            ThreePointArc((-42.906892167, 54.883785114), (-40.894834827, 56.895842454), (-38.882777487, 54.883785114))
        make_face(mode=Mode.SUBTRACT)
        with BuildLine():
            Line((-48.523726486, 17.9066404), (-31.271856946, 17.9066404))
            ThreePointArc((-31.271856946, 17.9066404), (-29.571152456, 16.20593591), (-31.271856946, 14.50523142))
            Line((-31.271856946, 14.50523142), (-48.523726486, 14.50523142))
            ThreePointArc((-48.523726486, 14.50523142), (-50.224430976, 16.20593591), (-48.523726486, 17.9066404))
        make_face(mode=Mode.SUBTRACT)
        with BuildLine():
            Line((-48.523726486, 24.463355715), (-31.271856946, 24.463355715))
            ThreePointArc((-31.271856946, 24.463355715), (-29.441301166, 22.632799935), (-31.271856946, 20.802244154))
            Line((-31.271856946, 20.802244154), (-48.523726486, 20.802244154))
            ThreePointArc((-48.523726486, 20.802244154), (-50.354282266, 22.632799935), (-48.523726486, 24.463355715))
        make_face(mode=Mode.SUBTRACT)
    extrude(amount=BOSS_EXTRUDE1_DEPTH)


solid = part.part
